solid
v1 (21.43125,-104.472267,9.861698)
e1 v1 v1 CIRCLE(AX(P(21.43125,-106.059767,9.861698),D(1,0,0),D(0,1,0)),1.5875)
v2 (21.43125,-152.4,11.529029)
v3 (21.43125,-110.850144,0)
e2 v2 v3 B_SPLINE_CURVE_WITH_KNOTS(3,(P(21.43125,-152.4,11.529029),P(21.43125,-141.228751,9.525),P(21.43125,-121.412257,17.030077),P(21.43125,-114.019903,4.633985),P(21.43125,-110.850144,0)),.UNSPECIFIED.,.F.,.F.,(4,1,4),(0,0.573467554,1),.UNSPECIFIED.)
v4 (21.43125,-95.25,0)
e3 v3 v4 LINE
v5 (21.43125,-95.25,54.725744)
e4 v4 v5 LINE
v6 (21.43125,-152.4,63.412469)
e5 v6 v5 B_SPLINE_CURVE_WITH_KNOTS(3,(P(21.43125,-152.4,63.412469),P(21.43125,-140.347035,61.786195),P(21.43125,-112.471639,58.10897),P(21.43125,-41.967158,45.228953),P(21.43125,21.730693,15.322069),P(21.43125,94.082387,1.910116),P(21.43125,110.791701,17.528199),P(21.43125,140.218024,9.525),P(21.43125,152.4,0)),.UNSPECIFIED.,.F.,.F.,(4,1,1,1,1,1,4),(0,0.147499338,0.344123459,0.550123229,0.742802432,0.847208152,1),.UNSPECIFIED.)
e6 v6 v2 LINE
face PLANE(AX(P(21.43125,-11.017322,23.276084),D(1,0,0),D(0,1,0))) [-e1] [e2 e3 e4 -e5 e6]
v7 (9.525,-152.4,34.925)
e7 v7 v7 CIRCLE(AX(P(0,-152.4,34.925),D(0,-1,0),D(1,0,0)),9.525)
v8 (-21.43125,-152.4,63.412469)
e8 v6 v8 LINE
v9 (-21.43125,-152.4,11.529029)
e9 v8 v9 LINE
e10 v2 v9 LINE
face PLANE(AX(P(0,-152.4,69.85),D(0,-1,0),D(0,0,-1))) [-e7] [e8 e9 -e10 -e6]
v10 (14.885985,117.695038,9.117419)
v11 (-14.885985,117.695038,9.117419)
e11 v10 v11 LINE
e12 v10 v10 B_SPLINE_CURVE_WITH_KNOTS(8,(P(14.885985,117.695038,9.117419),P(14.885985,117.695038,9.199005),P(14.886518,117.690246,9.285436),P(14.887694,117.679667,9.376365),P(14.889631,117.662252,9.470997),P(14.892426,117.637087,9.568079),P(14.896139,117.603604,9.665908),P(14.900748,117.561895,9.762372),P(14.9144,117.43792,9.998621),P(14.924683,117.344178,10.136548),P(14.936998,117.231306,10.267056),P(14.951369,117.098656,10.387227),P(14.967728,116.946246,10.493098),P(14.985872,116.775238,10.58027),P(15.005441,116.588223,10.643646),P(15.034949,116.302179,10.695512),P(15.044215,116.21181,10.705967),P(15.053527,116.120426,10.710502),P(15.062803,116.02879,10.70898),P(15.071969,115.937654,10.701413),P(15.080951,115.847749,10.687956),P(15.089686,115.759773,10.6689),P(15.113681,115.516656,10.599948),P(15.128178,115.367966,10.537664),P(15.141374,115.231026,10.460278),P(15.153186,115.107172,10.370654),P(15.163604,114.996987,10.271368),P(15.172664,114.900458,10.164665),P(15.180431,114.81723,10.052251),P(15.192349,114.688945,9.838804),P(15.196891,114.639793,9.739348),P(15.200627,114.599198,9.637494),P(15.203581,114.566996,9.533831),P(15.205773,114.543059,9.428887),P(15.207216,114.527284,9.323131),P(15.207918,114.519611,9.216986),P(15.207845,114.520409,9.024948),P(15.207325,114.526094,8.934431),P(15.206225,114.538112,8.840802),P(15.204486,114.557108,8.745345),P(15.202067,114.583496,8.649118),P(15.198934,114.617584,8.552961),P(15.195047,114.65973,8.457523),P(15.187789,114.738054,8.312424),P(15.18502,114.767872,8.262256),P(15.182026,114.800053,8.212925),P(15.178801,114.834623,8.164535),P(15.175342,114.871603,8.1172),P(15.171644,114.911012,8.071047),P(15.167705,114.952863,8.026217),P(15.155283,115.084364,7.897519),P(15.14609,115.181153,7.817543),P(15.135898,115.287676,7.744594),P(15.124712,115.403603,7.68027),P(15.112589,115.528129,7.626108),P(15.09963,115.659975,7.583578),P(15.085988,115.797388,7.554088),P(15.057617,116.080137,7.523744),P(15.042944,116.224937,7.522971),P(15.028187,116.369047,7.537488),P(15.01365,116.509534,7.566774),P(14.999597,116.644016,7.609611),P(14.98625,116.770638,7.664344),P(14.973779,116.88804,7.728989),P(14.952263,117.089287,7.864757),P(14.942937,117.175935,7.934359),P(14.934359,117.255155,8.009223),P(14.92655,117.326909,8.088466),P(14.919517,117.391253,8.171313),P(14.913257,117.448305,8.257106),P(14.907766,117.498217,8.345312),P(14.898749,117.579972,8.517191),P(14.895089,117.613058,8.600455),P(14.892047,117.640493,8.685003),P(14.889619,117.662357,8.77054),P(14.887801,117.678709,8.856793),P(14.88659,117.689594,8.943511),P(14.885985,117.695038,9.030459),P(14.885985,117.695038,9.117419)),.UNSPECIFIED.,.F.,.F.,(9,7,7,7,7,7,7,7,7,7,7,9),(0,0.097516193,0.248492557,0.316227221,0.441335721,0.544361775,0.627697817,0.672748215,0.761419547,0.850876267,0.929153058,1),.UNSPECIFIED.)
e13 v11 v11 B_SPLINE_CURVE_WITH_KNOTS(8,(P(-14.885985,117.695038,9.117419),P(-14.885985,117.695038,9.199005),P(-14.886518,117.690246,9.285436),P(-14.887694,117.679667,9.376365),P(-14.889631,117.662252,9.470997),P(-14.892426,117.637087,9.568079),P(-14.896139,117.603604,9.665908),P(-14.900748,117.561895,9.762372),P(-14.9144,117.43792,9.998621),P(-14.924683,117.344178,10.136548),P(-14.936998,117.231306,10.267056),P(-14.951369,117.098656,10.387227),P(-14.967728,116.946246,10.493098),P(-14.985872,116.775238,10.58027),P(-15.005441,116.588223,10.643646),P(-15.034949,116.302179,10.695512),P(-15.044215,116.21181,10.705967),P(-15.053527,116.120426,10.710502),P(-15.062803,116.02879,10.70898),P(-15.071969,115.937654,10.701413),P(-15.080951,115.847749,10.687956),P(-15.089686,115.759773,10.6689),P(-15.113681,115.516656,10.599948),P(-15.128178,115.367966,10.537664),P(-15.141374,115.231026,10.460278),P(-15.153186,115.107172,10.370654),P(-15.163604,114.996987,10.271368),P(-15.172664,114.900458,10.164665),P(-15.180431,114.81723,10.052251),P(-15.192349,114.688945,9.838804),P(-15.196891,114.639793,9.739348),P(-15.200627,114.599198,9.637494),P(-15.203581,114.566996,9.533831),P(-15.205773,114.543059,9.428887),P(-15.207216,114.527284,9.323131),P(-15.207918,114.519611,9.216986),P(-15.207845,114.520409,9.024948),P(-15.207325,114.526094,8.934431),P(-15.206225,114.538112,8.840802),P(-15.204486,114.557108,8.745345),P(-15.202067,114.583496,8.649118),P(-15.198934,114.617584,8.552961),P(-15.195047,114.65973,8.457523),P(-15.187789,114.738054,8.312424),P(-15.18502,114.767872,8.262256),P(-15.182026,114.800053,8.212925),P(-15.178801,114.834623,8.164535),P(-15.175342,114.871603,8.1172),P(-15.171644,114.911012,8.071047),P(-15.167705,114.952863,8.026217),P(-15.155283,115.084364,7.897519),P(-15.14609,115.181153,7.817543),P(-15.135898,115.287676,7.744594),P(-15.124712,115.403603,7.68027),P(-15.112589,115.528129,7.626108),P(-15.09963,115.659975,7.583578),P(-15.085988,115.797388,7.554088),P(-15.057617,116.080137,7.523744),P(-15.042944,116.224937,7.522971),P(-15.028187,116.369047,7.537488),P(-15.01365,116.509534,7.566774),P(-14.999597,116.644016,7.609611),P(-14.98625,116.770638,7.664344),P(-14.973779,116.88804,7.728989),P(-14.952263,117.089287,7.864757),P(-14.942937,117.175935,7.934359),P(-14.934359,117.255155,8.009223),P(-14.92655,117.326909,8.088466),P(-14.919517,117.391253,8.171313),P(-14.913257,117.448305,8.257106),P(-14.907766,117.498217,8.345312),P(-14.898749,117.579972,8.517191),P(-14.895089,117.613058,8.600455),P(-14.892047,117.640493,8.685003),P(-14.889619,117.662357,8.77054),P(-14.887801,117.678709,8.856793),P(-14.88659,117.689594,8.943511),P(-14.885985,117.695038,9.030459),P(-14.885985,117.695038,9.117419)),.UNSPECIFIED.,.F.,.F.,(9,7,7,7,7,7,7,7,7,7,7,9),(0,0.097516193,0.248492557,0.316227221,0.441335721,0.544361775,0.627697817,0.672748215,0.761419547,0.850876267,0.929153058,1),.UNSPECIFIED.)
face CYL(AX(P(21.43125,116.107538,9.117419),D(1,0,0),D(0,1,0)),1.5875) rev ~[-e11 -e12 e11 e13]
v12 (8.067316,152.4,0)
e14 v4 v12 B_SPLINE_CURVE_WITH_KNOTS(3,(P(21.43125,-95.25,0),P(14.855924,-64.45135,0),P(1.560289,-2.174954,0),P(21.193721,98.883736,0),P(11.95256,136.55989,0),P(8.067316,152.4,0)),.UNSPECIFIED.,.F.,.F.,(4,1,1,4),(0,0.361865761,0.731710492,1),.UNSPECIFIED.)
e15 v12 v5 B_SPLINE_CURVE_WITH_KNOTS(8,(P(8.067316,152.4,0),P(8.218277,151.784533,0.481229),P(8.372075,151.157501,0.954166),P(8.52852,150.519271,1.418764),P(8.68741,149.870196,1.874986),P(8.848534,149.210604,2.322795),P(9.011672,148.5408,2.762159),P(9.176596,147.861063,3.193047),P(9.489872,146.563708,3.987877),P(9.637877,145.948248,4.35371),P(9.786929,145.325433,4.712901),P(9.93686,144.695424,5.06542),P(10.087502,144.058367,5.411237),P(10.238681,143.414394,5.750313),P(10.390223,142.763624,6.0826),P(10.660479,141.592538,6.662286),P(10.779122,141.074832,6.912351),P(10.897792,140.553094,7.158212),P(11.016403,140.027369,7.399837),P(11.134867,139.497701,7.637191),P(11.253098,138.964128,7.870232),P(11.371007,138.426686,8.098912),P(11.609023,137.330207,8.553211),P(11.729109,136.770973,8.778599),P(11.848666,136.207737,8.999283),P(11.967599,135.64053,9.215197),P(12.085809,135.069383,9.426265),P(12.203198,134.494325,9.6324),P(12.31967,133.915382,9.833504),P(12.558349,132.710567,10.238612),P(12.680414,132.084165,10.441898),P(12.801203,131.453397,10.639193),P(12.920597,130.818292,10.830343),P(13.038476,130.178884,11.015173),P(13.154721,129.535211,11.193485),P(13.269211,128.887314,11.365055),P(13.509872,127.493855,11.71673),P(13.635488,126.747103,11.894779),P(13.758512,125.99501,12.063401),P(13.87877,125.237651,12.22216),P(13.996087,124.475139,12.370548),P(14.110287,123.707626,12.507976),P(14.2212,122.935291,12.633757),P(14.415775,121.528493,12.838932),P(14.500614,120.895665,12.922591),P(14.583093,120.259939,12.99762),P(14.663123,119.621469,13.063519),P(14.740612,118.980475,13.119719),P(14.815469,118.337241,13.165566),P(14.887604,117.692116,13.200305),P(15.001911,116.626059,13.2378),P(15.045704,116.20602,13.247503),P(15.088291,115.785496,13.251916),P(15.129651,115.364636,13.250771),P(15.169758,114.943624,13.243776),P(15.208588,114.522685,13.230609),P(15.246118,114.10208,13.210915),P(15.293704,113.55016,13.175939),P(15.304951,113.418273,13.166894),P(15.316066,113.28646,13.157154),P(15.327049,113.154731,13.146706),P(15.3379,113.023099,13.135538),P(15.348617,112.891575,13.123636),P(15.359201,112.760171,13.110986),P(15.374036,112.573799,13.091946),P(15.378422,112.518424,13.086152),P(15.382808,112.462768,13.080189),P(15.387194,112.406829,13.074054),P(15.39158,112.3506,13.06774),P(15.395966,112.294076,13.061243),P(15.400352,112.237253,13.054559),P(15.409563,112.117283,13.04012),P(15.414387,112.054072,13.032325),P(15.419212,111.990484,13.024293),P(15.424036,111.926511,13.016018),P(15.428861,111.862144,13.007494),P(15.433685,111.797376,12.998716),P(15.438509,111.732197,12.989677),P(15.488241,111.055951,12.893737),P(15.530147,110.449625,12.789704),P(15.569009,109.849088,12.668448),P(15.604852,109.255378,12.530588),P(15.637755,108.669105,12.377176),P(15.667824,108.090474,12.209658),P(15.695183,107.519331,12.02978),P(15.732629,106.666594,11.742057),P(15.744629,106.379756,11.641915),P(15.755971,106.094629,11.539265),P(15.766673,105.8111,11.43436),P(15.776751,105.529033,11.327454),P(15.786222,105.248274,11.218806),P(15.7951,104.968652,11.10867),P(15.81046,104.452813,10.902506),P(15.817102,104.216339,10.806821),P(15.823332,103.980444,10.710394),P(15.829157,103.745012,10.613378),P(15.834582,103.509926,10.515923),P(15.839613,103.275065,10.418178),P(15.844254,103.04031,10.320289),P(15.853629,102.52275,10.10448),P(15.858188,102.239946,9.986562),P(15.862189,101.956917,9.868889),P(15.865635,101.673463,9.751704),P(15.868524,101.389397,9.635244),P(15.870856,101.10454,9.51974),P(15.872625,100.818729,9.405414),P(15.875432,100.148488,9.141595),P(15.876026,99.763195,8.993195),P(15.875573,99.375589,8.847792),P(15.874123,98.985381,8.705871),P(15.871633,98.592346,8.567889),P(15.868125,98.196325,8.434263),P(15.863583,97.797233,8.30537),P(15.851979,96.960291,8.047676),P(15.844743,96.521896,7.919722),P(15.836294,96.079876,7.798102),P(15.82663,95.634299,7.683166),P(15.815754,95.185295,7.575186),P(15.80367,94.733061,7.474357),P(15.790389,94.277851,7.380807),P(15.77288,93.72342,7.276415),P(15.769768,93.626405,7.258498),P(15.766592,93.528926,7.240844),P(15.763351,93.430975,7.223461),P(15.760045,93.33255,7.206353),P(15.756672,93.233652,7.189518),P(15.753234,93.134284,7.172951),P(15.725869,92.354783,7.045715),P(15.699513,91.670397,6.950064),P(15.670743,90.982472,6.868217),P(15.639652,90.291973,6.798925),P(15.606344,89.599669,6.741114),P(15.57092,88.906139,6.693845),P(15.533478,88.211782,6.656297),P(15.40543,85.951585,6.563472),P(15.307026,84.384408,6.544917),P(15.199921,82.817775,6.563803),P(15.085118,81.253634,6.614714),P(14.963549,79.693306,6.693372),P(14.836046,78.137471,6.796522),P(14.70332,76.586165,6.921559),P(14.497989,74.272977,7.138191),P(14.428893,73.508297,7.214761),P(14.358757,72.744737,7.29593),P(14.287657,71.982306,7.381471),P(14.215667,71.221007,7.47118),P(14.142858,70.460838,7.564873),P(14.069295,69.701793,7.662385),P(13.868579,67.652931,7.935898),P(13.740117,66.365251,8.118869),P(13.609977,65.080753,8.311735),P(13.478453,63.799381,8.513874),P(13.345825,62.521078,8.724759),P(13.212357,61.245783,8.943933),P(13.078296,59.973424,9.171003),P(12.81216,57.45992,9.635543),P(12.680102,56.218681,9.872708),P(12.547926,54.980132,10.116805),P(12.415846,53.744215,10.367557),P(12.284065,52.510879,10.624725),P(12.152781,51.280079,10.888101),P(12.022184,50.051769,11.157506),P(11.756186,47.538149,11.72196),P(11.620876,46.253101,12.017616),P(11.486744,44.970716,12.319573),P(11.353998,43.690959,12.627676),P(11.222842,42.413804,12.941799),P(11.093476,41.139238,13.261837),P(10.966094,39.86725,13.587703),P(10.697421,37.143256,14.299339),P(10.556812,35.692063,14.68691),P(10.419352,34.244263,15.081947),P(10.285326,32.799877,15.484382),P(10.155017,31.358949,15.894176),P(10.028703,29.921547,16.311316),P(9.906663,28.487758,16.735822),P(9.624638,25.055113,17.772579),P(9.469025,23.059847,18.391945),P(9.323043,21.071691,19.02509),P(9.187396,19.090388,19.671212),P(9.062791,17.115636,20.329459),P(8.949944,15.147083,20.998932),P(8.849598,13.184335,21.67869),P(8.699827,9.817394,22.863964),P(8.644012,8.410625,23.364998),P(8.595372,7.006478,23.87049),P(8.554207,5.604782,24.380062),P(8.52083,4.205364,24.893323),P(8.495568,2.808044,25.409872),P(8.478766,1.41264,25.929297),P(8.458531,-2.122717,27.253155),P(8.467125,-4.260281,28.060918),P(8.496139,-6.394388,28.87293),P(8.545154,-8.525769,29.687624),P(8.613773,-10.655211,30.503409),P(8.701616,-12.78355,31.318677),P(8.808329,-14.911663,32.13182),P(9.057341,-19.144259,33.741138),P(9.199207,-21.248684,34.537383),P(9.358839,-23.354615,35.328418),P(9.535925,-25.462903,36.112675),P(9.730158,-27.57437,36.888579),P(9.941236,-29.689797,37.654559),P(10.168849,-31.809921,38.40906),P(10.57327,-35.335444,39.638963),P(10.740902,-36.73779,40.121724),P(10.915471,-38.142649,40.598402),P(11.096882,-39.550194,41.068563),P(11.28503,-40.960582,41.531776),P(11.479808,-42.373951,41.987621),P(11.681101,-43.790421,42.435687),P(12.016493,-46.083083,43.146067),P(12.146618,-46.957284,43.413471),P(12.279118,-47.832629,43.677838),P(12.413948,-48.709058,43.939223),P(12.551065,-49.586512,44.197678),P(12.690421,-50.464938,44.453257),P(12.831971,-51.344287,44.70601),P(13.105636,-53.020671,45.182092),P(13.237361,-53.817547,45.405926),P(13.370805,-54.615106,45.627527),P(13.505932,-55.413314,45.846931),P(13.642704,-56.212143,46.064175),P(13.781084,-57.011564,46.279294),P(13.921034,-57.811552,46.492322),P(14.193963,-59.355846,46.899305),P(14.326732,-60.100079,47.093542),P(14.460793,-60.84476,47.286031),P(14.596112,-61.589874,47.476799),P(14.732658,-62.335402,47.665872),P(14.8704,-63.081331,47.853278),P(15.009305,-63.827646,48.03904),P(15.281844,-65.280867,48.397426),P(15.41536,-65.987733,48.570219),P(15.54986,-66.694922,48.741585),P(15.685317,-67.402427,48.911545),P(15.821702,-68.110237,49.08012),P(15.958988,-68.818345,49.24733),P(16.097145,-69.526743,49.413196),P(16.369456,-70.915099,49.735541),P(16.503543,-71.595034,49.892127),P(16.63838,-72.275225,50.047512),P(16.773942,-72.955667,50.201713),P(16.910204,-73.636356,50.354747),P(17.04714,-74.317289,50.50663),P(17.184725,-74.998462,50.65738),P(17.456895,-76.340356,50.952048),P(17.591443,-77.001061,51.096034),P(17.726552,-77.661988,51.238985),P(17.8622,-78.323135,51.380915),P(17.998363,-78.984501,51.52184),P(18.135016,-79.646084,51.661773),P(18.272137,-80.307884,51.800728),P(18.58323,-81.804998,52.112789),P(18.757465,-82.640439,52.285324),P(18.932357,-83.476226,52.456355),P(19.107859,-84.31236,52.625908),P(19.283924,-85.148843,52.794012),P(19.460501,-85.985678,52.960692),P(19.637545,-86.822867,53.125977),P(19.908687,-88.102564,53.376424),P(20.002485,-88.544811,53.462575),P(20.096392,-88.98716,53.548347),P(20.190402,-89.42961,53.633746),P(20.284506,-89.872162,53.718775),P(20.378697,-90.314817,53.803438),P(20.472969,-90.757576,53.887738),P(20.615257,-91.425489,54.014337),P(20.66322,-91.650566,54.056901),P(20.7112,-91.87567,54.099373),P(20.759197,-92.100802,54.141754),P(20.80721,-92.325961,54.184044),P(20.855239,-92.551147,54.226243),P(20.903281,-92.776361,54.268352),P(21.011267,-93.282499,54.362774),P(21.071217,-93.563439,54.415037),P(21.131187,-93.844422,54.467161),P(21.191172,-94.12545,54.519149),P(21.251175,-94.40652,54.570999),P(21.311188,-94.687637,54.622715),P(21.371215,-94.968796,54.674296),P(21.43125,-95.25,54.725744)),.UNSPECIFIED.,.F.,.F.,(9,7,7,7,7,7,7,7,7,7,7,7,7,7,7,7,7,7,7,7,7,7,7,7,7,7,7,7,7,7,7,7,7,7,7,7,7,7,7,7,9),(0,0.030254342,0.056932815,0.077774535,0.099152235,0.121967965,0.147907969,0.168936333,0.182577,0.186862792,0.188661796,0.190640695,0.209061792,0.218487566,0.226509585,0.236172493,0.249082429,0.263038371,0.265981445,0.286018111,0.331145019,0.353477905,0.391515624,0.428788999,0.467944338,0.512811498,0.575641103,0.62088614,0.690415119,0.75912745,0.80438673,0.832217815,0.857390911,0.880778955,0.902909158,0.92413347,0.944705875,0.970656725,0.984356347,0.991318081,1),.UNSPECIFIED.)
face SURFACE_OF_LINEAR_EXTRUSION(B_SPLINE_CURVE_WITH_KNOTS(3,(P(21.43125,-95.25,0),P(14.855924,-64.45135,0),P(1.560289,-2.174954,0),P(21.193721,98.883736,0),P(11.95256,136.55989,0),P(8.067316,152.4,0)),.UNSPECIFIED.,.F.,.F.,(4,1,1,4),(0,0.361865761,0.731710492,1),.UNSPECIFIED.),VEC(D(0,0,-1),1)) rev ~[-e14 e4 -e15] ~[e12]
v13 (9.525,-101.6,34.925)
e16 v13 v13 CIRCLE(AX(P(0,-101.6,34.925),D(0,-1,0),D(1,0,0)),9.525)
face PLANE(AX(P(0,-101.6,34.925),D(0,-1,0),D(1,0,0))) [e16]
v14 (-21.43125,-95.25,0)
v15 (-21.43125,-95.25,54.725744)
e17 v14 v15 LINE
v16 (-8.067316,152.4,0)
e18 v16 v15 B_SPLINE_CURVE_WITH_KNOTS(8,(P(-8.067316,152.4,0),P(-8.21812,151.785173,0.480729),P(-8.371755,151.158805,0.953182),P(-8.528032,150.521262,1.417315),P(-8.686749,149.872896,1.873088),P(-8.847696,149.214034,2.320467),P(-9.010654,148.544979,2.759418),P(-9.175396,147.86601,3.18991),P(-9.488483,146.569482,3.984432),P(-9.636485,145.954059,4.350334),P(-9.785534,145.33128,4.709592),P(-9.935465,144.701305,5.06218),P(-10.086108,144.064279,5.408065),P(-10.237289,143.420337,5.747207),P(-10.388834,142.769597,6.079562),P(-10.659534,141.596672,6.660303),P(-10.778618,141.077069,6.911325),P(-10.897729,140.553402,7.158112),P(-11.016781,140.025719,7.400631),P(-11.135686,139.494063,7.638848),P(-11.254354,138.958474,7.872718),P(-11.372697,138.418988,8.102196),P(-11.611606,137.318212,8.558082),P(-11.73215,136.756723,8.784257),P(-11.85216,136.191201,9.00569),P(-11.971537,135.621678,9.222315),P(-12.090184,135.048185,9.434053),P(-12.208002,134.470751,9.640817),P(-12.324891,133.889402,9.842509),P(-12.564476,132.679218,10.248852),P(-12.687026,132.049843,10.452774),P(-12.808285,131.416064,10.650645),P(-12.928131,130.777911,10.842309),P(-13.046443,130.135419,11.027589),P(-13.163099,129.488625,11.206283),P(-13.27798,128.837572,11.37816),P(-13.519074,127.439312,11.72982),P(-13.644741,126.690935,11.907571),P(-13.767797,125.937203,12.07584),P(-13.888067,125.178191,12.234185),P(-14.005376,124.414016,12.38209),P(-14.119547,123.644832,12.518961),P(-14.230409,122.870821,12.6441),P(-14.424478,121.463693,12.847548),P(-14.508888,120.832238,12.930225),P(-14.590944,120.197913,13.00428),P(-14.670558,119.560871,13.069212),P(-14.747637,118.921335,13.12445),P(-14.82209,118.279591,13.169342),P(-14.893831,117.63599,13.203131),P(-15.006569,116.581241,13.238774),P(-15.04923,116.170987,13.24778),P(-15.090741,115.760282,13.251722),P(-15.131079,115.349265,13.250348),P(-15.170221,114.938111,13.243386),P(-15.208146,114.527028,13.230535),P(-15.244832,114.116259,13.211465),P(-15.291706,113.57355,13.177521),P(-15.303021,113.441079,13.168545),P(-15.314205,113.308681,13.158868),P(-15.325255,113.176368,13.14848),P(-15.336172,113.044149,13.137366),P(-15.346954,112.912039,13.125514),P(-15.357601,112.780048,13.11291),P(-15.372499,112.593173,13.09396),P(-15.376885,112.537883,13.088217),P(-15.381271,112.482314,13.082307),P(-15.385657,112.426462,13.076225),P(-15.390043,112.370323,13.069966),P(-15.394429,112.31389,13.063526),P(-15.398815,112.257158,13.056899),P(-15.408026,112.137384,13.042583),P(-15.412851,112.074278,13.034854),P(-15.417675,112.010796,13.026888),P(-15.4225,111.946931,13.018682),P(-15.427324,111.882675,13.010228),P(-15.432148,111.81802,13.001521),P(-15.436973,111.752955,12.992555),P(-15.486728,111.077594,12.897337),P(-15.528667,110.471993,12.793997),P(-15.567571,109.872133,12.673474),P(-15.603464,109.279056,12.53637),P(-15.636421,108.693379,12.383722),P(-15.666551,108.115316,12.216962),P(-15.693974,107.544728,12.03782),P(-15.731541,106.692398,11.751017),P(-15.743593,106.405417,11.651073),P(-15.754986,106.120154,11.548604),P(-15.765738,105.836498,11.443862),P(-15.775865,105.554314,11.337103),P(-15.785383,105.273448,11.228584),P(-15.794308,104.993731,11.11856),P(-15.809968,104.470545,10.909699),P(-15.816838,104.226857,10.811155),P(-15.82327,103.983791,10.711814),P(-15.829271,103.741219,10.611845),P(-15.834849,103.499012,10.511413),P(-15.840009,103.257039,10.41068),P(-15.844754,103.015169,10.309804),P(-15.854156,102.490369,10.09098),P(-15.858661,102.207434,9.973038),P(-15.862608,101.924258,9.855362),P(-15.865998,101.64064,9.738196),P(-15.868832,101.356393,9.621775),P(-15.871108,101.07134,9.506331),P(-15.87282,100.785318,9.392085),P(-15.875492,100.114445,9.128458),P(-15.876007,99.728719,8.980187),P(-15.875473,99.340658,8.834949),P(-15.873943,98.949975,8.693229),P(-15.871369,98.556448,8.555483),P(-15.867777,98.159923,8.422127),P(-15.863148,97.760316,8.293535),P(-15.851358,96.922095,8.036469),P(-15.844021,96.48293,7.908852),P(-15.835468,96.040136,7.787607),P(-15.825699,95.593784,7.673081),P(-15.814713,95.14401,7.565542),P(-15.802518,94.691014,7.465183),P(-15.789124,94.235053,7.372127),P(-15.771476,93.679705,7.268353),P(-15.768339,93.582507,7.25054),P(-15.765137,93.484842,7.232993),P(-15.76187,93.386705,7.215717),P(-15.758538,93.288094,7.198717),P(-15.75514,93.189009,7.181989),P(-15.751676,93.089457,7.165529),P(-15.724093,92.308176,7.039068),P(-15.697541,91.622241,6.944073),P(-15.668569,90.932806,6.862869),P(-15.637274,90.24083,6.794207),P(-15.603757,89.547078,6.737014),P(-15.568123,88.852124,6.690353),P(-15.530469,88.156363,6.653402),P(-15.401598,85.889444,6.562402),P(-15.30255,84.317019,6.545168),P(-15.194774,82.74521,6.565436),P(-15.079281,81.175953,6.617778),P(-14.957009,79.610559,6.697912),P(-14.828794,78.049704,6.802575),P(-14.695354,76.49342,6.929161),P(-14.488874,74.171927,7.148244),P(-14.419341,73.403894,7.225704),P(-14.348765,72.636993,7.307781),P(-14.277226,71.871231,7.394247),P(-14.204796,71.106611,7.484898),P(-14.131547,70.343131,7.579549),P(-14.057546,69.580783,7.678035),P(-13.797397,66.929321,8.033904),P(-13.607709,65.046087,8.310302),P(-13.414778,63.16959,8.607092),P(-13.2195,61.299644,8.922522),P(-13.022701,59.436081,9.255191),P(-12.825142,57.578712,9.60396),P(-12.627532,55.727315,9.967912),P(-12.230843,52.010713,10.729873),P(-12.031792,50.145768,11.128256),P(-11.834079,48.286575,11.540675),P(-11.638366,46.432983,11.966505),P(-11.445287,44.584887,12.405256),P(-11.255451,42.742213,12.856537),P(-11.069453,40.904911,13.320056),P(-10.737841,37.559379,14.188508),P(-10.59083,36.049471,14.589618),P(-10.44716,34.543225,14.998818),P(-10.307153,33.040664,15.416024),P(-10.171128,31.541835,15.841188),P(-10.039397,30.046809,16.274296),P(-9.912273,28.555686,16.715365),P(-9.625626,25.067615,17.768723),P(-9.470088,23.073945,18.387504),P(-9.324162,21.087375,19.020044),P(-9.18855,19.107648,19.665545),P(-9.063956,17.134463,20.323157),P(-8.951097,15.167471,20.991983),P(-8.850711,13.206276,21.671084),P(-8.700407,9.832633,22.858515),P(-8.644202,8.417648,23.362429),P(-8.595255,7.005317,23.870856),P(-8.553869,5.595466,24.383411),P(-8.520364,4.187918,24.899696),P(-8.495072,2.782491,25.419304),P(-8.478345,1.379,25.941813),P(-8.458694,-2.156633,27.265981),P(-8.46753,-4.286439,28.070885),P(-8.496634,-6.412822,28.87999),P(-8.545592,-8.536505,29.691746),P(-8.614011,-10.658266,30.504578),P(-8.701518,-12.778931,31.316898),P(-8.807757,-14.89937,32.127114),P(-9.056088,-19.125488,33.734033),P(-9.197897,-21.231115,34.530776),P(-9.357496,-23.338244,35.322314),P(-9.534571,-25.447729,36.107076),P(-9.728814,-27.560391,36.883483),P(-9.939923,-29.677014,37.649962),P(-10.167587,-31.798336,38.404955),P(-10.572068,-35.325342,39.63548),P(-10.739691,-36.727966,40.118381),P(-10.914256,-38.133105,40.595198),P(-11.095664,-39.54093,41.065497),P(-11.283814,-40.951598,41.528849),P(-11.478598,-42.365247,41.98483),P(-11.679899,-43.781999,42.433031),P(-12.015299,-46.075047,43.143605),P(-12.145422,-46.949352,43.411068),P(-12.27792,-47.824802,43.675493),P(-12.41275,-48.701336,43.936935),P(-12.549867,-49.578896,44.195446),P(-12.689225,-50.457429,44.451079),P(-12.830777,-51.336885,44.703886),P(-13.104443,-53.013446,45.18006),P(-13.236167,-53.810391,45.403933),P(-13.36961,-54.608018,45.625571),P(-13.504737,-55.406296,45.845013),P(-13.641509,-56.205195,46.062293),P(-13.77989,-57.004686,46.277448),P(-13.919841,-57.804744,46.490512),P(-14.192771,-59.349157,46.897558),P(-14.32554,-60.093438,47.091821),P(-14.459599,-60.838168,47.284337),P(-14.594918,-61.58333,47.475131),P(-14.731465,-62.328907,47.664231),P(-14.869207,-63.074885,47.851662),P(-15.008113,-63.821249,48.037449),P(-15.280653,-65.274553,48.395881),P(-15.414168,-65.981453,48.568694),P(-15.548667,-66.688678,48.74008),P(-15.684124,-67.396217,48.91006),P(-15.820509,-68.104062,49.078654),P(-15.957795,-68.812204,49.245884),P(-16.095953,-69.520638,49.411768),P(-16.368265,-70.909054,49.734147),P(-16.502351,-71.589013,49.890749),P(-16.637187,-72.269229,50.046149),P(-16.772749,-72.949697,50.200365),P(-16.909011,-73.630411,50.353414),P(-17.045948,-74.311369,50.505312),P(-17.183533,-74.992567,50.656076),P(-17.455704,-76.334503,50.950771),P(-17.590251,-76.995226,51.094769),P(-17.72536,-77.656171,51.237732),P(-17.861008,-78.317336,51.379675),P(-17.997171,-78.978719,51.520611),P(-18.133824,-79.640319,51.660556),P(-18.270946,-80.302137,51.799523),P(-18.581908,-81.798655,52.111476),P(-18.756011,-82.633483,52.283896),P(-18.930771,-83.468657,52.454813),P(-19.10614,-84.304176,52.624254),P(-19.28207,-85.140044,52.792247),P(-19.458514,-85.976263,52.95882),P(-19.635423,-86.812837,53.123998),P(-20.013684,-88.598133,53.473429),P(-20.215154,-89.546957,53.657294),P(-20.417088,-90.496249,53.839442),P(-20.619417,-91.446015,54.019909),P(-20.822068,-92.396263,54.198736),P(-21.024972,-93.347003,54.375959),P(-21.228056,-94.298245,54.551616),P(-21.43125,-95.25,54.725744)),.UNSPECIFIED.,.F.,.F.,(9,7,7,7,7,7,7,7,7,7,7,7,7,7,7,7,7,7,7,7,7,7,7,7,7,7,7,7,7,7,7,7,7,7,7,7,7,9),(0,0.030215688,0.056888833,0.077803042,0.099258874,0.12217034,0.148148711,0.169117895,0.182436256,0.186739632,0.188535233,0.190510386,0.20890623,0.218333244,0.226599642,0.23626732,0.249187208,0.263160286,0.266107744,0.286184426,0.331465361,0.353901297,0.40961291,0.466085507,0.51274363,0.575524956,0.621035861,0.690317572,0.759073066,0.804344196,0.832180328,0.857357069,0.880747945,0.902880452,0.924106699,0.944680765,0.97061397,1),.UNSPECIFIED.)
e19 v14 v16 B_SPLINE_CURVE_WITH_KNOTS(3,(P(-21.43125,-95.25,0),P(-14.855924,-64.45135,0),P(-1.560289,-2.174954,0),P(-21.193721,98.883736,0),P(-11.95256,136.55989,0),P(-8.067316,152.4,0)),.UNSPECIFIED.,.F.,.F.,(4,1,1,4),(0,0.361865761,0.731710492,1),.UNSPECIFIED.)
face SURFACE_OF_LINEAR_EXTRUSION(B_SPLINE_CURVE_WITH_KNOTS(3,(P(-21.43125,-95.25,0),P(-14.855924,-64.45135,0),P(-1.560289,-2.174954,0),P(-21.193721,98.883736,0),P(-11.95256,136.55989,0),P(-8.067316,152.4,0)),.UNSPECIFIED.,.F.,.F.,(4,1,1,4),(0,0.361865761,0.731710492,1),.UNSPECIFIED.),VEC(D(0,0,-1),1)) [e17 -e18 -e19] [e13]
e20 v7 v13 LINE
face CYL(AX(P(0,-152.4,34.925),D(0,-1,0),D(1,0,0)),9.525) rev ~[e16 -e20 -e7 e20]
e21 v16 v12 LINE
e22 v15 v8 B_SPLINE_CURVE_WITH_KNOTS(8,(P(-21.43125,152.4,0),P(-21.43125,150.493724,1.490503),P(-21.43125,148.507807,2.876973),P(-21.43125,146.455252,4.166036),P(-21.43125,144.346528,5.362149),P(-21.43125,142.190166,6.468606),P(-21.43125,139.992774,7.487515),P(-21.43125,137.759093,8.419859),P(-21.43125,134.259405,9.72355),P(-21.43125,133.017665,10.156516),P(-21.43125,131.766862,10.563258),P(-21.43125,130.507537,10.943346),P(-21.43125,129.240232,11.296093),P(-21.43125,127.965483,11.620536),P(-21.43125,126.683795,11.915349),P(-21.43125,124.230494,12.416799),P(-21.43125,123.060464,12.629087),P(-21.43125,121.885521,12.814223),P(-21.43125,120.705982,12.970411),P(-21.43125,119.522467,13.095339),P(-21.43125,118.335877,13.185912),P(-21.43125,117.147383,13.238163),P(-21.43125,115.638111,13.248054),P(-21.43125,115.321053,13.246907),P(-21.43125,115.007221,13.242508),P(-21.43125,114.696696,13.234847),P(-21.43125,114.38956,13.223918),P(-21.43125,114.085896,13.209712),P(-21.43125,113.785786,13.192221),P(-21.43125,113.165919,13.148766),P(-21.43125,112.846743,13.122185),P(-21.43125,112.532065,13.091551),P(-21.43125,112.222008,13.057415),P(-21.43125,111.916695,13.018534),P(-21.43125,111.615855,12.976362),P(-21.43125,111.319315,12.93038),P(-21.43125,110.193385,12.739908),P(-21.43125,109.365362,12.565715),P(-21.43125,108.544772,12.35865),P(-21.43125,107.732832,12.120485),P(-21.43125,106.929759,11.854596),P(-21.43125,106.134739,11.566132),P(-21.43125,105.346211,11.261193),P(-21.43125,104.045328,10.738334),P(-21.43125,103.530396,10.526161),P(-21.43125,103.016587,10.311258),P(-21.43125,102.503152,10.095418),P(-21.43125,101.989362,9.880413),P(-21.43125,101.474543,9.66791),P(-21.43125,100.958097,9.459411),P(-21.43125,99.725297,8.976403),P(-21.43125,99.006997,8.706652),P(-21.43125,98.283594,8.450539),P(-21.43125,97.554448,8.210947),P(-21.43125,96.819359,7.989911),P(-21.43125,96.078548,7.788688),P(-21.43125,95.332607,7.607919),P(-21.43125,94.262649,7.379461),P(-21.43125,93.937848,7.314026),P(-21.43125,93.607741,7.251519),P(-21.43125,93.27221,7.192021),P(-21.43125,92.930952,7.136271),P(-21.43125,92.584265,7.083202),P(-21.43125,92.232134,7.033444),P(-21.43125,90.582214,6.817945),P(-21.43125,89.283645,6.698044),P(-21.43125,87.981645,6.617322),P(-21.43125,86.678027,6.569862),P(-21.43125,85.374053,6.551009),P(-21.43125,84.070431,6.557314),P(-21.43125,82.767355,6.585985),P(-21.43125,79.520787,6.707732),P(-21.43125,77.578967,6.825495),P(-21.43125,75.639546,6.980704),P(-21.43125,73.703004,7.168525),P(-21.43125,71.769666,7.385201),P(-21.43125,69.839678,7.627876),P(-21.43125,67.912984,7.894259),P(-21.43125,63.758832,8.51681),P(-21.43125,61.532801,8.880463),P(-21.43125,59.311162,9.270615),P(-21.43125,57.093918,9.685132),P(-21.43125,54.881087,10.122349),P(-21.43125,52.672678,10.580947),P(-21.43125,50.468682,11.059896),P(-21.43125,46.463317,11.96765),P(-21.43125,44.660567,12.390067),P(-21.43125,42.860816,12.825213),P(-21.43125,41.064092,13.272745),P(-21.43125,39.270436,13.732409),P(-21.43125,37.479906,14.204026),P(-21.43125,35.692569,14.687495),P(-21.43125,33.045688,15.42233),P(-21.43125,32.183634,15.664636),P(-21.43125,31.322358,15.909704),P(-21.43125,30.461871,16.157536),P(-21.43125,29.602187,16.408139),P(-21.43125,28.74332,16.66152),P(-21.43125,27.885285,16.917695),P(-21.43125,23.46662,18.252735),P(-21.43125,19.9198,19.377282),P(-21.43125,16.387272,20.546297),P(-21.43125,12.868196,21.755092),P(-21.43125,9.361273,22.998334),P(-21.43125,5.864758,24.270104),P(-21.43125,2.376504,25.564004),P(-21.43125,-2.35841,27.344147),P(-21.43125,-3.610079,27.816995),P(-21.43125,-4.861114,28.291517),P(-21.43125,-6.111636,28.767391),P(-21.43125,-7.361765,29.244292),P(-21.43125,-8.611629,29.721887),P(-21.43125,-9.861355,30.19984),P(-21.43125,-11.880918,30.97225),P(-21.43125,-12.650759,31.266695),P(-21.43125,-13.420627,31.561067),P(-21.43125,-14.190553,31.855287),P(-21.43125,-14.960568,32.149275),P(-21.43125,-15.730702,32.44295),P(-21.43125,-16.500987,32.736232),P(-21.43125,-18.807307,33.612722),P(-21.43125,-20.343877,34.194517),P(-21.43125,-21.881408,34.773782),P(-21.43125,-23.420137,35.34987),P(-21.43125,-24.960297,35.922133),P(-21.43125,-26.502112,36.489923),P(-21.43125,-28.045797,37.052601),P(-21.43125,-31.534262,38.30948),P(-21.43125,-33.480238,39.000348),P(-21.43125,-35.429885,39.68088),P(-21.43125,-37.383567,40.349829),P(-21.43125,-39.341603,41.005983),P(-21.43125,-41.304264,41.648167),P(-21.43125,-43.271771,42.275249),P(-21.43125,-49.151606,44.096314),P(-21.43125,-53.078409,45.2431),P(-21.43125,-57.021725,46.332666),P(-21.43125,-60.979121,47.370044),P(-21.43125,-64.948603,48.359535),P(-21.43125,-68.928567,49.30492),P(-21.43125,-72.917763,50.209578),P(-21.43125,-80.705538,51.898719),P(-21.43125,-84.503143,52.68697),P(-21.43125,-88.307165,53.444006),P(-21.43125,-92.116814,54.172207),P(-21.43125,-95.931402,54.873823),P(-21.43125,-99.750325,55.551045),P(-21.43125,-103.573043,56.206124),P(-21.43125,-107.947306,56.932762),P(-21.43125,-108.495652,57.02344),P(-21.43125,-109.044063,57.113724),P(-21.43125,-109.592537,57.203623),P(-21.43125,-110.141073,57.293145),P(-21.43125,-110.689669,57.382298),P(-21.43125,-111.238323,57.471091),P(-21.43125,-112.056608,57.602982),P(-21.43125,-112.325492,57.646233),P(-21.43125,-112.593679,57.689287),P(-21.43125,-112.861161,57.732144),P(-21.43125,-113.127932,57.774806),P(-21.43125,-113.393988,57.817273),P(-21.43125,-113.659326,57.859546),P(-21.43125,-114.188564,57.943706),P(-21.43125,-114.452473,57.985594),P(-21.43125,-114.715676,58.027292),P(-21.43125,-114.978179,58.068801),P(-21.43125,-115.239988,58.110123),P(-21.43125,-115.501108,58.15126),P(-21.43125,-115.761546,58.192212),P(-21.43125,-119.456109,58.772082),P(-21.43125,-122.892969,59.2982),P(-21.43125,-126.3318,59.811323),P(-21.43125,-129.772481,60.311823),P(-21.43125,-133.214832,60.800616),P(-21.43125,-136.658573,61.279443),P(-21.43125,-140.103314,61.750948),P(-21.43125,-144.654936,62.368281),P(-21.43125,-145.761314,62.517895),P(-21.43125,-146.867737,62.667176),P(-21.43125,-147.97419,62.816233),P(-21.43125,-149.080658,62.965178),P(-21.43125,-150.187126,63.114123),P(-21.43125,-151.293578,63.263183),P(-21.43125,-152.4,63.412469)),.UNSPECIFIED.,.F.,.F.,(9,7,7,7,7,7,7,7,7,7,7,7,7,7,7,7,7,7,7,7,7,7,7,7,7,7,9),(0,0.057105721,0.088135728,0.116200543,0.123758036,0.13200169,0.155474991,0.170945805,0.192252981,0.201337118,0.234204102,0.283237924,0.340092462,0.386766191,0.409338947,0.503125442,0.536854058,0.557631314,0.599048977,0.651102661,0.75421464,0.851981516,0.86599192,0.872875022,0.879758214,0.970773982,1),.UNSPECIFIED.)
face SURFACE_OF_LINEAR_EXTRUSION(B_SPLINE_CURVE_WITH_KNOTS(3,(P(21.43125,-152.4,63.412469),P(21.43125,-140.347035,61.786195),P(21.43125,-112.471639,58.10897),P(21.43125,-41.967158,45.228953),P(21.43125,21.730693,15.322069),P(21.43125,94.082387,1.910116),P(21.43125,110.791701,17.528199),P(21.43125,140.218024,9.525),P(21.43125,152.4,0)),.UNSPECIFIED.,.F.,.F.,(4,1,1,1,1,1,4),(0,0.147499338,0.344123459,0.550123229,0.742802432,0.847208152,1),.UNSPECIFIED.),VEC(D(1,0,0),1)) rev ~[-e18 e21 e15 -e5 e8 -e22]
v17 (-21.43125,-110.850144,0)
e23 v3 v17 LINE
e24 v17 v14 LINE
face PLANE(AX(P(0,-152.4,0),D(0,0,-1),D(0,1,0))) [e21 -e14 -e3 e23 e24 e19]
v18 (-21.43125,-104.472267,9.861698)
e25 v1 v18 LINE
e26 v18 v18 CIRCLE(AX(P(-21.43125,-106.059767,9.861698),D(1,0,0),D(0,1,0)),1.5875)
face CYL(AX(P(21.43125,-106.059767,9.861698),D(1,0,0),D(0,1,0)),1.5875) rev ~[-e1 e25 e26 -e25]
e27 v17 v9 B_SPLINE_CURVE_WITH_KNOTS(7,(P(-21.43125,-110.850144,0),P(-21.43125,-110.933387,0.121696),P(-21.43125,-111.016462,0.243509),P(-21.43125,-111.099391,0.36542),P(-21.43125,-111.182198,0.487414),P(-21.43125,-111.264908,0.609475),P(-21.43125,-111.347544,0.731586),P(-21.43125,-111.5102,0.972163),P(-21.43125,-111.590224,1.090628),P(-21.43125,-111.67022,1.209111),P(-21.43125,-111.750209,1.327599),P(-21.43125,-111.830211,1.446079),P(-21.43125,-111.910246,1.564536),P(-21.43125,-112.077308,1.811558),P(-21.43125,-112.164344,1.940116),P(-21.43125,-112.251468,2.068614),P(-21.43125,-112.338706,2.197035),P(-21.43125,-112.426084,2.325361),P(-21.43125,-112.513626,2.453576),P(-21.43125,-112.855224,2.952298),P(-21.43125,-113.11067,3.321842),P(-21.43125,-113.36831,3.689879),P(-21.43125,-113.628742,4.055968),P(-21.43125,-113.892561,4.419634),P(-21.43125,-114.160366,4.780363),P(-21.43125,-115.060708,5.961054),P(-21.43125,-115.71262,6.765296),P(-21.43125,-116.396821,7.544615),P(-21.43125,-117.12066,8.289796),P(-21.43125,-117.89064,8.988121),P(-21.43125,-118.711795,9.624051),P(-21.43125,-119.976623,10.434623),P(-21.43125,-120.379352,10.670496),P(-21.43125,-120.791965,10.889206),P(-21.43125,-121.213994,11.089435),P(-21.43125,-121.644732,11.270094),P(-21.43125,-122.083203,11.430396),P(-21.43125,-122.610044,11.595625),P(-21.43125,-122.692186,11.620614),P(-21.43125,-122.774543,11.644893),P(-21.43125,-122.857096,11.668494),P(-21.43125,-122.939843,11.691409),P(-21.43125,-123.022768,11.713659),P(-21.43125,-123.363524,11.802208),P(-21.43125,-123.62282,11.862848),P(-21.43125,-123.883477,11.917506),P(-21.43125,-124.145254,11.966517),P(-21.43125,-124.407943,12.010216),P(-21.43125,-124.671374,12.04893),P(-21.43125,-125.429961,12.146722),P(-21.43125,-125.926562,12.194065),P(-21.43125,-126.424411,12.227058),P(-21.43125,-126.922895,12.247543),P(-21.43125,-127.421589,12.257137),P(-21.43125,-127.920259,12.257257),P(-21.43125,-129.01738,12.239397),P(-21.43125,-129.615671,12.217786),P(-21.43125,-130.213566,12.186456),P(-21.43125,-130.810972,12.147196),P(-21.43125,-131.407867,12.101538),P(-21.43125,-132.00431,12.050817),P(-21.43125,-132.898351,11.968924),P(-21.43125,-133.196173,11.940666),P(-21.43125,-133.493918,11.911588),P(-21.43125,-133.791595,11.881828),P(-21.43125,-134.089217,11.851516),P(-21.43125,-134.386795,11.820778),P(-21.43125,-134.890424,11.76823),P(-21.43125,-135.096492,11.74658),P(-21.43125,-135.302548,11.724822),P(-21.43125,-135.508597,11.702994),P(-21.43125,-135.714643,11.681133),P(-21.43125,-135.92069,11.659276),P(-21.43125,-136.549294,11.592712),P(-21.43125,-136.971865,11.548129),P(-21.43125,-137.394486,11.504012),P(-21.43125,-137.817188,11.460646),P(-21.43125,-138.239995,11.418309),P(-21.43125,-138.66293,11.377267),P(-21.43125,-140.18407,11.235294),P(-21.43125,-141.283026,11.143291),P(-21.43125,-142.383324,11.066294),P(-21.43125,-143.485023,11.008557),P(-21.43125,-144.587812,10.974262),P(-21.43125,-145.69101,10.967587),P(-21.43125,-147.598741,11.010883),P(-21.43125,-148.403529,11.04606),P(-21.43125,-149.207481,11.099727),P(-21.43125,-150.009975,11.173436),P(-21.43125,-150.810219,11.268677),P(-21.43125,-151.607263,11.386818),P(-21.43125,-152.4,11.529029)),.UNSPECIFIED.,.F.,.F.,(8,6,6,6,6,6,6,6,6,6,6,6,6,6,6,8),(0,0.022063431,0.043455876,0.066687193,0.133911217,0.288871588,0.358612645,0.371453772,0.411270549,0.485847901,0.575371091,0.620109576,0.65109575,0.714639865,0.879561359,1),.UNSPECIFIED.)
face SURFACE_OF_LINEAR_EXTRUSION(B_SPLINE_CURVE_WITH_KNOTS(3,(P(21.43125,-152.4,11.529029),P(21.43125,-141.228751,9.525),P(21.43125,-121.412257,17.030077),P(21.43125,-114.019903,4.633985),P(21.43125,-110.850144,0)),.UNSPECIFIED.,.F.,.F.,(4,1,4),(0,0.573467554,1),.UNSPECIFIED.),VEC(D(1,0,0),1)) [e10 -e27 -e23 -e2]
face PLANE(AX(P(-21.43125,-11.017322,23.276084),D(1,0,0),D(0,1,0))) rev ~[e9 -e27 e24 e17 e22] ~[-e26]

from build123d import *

# Parameters (mm, degrees)
F1_DEPTH = 21.43125
F2_R     = 9.525
F3_DEPTH = 50.8
F4_R     = 1.5875
F6_DEPTH = 42.8635
F7_DEPTH = 63.4134694142
F8_DEPTH = 42.8635001
F9_DEPTH = 42.8635001


with BuildPart() as f1:
    # F0 (on Right) → F1 (new body, symmetric)
    with BuildSketch(Plane.YZ):
        Polygon((-152.4, 69.85), (-152.4, 0), (152.4, 0), (152.4, 19.05), align=None)
    extrude(amount=F1_DEPTH, both=True)

    # F2 (on face) → F3 (cut)
    with BuildSketch(Plane.XZ.offset(152.4)):
        with Locations((0, 34.925)):
            Circle(F2_R)
    extrude(amount=-F3_DEPTH, mode=Mode.SUBTRACT)

    # F4 (on face) → F6 (cut, through all)
    with BuildSketch(Plane.YZ.offset(21.43125)):
        with Locations((-106.0597673059, 9.8616983742)):
            Circle(F4_R)
        with Locations((116.1075383425, 9.1174189001)):
            Circle(F4_R)
        with BuildLine():
            Line((-152.4, 69.85), (-152.4, 63.4124693142))
            add(Edge.make_bspline(
                [(-152.4, 63.4124693142), (-140.3470349673, 61.7861947864), (-112.4716388906, 58.1089697392), (-41.9671579921, 45.2289528531), (21.730693014, 15.3220693615), (94.082386935, 1.9101160851), (110.7917005476, 17.5281988656), (140.2180244224, 9.525), (152.4, 0)],
                knots=[0, 0, 0, 0, 0.1474993379, 0.3441234589, 0.5501232287, 0.742802432, 0.8472081521, 1, 1, 1, 1], degree=3))
            Line((152.4, 0), (152.4, 19.05))
            Line((152.4, 19.05), (-152.4, 69.85))
        make_face()
    extrude(amount=-F6_DEPTH, mode=Mode.SUBTRACT)

    # F5 (on face) → F7 (cut, through all)
    with BuildSketch(Plane(origin=(0, 0, 0), x_dir=(1, 0, 0), z_dir=(0, 0, -1))):
        with BuildLine():
            add(Edge.make_bspline(
                [(21.43125, 95.25), (14.8559240611, 64.4513498529), (1.560289343, 2.1749538276), (21.1937212181, -98.8837359072), (11.9525595695, -136.5598896787), (8.0673163757, -152.4)],
                knots=[0, 0, 0, 0, 0.3618657615, 0.7317104925, 1, 1, 1, 1], degree=3))
            Line((8.0673163757, -152.4), (21.43125, -152.4))
            Line((21.43125, -152.4), (21.43125, 95.25))
        make_face()
        with BuildLine():
            add(Edge.make_bspline(
                [(-21.43125, 95.25), (-14.8559240611, 64.4513498529), (-1.560289343, 2.1749538276), (-21.1937212181, -98.8837359072), (-11.9525595695, -136.5598896787), (-8.0673163757, -152.4)],
                knots=[0, 0, 0, 0, 0.3618657615, 0.7317104925, 1, 1, 1, 1], degree=3))
            Line((-21.43125, 95.25), (-21.43125, -152.4))
            Line((-21.43125, -152.4), (-8.0673163757, -152.4))
        make_face()
    extrude(amount=-F7_DEPTH, mode=Mode.SUBTRACT)

    # F4 (on face) → F8 (cut, through all)
    with BuildSketch(Plane.YZ.offset(21.43125)):
        with BuildLine():
            add(Edge.make_bspline(
                [(-152.4, 11.5290285958), (-141.2287506061, 9.525), (-121.4122565006, 17.0300769596), (-114.0199033563, 4.6339851154), (-110.8501440775, 0)],
                knots=[0, 0, 0, 0, 0.5734675537, 1, 1, 1, 1], degree=3))
            Line((-152.4, 11.5290285958), (-152.4, 0))
            Line((-152.4, 0), (-110.8501440775, 0))
        make_face()
    extrude(amount=-F8_DEPTH, mode=Mode.SUBTRACT)

    # F4 (on face) → F9 (cut, through all)
    with BuildSketch(Plane.YZ.offset(21.43125)):
        with Locations((-106.0597673059, 9.8616983742)):
            Circle(F4_R)
        with Locations((116.1075383425, 9.1174189001)):
            Circle(F4_R)
    extrude(amount=-F9_DEPTH, mode=Mode.SUBTRACT)


solid = f1.part
